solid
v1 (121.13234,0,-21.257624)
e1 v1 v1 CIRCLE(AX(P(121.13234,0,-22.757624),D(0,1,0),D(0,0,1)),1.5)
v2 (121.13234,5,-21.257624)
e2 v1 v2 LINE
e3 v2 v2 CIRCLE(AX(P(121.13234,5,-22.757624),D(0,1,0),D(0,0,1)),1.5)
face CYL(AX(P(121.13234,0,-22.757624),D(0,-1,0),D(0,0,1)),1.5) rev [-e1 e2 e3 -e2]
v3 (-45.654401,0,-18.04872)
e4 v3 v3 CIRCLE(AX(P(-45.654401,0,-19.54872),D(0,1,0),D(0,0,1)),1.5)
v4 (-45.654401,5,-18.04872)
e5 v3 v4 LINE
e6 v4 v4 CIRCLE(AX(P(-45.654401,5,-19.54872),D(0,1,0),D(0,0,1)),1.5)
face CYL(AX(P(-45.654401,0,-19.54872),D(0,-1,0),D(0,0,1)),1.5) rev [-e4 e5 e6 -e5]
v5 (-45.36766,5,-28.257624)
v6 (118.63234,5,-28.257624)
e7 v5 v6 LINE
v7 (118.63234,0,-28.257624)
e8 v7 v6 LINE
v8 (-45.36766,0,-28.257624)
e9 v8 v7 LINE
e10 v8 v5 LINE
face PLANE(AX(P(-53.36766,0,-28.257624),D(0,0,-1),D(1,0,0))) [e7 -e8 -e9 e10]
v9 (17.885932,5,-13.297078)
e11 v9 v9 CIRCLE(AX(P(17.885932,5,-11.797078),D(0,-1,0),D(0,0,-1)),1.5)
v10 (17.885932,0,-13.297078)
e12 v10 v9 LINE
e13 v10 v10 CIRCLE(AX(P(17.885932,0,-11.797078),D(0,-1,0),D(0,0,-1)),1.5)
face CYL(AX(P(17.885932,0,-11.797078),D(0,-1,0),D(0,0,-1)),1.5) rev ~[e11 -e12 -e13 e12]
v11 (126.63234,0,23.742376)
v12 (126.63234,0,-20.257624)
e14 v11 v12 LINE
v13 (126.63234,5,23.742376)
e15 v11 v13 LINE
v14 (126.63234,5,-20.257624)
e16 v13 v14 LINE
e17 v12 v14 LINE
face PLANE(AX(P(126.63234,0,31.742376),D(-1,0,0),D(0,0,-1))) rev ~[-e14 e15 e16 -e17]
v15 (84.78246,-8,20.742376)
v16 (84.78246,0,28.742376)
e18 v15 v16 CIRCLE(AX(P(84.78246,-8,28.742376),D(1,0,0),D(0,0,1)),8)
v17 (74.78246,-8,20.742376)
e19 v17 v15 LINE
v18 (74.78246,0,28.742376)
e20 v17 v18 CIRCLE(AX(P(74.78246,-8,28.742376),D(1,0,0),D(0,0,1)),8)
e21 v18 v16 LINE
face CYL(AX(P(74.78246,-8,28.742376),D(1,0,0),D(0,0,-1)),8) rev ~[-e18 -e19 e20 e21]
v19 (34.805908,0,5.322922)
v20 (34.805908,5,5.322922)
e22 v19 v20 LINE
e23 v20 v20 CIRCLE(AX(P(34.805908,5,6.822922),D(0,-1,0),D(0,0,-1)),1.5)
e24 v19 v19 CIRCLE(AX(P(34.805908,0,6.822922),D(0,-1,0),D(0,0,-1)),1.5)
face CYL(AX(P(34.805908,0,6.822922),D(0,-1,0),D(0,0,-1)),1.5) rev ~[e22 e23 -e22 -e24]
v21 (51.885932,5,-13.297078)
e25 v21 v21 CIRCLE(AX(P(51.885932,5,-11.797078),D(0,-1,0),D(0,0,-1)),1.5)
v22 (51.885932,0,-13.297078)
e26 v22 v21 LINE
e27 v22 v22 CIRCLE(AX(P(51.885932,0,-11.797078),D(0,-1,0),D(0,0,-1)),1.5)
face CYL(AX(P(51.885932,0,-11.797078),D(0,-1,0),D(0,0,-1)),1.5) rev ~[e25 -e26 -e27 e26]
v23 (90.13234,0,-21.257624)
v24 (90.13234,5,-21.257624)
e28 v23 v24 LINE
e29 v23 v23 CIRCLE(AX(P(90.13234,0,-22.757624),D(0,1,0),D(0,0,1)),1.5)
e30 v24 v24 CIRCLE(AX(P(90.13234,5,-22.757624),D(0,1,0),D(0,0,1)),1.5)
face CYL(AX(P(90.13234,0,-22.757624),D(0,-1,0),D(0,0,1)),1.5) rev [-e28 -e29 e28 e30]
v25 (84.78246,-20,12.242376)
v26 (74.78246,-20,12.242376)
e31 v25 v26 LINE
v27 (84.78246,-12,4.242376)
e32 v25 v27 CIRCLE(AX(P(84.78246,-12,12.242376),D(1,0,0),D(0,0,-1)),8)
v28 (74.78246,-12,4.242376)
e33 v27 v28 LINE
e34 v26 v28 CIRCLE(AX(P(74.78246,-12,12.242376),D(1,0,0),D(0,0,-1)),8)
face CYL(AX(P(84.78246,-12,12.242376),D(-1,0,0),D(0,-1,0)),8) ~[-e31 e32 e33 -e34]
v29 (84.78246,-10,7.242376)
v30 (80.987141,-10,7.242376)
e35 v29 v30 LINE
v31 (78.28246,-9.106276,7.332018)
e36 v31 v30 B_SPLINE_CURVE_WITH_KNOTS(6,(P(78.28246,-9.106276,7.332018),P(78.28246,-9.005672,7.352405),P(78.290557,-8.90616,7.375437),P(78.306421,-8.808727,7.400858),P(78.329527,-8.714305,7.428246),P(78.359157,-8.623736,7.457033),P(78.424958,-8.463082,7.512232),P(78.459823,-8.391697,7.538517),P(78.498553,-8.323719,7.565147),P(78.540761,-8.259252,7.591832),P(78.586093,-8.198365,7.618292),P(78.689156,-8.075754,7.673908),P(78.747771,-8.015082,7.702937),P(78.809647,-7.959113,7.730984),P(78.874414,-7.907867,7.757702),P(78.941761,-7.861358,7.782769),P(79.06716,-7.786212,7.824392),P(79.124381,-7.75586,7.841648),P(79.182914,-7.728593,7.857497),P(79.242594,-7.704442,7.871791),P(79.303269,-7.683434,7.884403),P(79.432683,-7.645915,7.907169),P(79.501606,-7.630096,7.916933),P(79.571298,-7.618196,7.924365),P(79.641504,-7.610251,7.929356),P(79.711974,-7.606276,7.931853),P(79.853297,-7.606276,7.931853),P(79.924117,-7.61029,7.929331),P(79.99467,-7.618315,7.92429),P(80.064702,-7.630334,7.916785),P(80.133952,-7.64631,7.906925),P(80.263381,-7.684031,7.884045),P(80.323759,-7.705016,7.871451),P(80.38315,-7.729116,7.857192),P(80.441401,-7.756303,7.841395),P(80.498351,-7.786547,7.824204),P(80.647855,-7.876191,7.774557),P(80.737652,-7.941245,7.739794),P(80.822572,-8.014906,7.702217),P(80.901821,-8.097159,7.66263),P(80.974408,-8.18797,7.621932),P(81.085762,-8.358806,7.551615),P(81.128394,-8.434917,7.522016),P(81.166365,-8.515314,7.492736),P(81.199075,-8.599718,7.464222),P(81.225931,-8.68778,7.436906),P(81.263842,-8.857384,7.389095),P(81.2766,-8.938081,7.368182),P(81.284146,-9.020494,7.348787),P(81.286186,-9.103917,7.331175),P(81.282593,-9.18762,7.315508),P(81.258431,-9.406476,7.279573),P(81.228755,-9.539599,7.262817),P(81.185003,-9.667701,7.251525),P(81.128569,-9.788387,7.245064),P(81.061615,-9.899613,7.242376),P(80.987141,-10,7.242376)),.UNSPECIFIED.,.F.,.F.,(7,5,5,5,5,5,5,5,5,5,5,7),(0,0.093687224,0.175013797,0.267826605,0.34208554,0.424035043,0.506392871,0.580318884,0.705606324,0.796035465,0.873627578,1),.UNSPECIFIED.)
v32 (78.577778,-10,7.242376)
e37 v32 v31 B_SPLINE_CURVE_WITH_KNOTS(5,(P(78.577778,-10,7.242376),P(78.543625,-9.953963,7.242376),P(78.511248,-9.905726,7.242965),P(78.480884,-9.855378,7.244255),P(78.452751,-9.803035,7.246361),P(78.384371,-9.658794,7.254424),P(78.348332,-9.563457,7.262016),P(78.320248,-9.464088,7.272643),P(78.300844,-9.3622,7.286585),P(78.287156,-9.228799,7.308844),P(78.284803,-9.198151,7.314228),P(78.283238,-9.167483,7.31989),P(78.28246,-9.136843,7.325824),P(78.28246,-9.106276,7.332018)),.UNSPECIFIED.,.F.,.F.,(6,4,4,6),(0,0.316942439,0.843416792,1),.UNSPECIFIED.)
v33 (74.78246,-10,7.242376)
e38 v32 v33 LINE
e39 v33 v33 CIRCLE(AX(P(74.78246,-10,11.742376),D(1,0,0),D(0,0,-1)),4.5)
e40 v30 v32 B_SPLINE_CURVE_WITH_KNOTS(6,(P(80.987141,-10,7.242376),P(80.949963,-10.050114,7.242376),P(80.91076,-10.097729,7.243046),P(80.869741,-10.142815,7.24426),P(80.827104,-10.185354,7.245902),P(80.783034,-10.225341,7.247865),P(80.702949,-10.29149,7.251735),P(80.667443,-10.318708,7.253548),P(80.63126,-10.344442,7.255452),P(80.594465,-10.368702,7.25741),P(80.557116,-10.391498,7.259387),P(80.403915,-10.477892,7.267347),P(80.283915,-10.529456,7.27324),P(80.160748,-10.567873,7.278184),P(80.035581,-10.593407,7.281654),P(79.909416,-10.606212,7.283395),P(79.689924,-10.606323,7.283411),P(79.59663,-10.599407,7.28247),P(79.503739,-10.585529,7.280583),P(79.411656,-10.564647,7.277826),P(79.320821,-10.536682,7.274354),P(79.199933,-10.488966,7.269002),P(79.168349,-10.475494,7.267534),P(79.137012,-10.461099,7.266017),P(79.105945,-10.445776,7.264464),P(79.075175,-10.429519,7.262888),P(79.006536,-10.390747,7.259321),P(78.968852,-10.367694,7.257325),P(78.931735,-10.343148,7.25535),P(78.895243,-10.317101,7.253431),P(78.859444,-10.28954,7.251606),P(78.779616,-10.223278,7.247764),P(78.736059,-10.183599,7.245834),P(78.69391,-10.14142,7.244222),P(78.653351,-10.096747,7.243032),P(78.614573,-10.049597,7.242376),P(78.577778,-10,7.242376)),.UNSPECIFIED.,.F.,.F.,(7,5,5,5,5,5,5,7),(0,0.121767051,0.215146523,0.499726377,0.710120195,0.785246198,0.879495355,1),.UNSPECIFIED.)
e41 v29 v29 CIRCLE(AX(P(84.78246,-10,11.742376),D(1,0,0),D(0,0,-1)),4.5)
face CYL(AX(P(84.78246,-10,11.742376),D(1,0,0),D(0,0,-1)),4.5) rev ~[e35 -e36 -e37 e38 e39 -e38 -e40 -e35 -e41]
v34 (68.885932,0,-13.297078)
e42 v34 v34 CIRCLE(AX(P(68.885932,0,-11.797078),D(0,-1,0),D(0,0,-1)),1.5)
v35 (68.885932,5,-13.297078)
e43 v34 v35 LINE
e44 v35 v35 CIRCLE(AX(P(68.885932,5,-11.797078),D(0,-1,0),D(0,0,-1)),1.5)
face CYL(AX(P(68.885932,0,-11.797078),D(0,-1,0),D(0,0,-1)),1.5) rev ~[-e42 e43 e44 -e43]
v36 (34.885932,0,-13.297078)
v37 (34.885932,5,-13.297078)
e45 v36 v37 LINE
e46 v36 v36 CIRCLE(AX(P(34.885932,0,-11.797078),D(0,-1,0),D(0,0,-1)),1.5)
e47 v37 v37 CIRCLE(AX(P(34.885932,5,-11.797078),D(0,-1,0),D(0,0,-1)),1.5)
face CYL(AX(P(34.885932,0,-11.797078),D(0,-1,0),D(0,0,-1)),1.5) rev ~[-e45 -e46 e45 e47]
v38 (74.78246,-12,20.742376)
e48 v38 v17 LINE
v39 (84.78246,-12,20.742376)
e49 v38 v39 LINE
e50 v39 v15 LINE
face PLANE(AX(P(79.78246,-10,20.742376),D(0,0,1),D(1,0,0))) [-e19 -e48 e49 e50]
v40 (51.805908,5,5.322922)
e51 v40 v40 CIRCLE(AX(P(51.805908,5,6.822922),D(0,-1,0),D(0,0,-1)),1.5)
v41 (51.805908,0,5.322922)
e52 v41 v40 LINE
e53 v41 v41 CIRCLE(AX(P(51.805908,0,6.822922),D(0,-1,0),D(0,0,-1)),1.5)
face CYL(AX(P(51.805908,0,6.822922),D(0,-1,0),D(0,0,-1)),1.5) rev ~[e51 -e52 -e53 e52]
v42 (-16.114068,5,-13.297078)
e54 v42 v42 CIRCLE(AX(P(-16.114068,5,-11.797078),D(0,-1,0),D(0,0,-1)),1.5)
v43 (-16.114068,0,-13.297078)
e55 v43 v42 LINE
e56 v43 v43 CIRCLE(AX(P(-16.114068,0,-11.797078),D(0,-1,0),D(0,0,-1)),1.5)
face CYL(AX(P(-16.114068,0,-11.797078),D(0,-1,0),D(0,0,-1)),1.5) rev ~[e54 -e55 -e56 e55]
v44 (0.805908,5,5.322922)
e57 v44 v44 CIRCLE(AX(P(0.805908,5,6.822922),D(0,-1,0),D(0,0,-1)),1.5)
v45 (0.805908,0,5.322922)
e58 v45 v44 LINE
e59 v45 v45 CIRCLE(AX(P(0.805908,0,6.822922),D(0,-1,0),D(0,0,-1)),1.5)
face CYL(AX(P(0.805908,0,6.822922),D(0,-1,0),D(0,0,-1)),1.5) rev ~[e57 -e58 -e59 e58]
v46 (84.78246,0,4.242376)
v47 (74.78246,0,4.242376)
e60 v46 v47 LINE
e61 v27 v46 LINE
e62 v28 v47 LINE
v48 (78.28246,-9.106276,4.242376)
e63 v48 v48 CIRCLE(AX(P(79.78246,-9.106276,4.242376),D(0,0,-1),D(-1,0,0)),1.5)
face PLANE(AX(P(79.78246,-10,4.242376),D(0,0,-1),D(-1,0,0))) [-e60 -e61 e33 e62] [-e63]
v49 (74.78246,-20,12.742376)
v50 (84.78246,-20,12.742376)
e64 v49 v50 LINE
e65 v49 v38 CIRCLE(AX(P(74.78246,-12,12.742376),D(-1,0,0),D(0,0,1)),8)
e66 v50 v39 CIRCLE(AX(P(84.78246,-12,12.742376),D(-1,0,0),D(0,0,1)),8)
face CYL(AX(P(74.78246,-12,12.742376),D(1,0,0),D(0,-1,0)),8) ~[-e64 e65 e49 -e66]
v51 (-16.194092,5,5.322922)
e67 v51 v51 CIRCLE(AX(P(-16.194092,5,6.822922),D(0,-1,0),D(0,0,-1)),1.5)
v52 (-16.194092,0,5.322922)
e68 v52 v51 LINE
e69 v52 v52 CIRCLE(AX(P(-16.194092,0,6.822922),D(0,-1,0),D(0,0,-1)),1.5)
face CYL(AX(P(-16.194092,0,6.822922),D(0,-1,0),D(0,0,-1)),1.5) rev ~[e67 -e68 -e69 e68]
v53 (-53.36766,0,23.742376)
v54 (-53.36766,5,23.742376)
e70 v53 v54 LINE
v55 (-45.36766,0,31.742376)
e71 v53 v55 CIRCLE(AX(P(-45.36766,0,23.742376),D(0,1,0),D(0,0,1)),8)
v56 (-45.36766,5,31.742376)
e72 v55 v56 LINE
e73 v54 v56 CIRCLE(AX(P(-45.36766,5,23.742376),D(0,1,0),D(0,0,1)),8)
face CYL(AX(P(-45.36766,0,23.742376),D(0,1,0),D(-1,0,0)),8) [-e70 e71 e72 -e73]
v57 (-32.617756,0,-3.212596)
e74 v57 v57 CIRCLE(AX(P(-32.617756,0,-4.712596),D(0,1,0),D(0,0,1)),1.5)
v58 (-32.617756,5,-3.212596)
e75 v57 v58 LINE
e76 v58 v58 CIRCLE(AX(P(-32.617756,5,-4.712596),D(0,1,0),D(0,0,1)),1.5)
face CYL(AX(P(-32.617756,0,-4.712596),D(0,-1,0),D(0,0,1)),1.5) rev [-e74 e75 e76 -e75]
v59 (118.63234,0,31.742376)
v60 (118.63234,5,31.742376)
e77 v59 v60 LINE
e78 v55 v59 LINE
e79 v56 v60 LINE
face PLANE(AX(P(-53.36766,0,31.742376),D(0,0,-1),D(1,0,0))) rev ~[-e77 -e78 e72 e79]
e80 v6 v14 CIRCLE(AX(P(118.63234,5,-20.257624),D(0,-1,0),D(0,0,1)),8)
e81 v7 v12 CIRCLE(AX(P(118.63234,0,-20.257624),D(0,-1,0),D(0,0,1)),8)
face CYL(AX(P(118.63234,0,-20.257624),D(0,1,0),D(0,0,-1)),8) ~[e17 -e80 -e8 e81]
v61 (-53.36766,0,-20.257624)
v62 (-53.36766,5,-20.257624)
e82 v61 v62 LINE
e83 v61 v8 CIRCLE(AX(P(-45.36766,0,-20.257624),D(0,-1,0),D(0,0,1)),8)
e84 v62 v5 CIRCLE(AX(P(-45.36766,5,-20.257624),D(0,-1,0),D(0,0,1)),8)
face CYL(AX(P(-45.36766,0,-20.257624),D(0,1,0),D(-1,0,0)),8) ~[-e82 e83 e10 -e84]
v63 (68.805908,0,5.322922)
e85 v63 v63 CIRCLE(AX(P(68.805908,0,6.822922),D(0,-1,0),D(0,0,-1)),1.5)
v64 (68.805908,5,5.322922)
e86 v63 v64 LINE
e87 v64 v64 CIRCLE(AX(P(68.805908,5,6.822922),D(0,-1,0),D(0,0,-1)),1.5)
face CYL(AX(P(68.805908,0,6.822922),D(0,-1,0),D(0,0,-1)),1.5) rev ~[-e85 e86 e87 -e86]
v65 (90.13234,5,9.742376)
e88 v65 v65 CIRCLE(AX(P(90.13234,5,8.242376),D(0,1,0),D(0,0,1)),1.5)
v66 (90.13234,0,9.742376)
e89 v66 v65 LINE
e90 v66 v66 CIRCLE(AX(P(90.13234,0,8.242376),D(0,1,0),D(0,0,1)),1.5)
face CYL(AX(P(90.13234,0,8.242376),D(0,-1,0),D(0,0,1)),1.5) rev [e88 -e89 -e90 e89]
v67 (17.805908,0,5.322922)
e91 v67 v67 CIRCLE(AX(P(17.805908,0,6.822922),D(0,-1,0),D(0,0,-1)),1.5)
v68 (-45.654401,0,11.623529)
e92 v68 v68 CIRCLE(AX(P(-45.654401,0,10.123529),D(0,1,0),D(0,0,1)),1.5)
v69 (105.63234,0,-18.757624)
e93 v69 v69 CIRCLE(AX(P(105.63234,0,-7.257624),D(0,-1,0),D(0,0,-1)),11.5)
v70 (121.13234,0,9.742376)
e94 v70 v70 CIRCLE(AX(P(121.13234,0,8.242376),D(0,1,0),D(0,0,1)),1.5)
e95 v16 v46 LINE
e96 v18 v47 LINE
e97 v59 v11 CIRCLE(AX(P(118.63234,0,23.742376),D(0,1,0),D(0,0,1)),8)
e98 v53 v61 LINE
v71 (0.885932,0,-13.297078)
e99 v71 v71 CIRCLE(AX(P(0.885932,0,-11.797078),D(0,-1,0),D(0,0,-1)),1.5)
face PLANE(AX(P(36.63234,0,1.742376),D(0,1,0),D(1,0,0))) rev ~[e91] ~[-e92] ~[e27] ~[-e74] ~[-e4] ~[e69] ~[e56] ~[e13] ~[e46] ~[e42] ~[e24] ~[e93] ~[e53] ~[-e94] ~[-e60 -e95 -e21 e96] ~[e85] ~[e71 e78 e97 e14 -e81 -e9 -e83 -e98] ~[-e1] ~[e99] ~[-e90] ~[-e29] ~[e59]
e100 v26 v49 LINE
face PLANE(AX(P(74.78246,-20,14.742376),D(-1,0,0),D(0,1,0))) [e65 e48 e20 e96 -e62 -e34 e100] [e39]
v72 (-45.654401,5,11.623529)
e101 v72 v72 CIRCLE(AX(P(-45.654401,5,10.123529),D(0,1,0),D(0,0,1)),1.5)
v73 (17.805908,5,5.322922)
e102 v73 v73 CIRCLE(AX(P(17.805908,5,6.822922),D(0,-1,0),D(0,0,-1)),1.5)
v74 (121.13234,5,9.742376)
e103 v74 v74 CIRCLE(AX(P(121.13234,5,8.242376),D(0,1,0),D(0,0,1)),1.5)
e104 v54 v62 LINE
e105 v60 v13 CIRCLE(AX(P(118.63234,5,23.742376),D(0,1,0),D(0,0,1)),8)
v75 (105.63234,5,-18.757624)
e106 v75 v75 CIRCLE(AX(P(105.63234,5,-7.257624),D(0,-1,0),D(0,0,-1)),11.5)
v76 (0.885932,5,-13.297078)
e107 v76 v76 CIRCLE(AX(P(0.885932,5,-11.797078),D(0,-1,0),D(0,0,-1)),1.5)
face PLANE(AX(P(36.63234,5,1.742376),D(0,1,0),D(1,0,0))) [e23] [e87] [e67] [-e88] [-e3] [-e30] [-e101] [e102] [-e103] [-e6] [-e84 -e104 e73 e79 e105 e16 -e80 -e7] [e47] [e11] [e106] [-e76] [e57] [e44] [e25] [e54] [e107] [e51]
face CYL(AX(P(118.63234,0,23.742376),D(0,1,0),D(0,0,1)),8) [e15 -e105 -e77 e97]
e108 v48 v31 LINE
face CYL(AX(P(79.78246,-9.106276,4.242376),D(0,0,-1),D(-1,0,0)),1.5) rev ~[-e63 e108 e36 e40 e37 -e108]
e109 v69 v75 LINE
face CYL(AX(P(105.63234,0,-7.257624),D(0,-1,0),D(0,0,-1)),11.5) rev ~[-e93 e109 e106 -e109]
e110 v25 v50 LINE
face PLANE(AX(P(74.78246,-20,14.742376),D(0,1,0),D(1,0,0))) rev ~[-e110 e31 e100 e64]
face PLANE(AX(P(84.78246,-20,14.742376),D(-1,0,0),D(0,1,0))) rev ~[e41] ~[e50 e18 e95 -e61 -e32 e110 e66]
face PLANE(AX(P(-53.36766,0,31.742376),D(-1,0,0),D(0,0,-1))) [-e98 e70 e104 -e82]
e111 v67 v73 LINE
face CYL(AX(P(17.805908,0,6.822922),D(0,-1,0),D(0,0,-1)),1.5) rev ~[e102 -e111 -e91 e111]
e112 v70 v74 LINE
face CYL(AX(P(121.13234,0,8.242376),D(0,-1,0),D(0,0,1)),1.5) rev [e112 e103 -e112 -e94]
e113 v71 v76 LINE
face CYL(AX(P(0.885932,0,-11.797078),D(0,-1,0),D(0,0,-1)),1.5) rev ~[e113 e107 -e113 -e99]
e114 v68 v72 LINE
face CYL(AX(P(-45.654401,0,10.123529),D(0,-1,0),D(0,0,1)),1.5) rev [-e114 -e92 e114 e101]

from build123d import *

# Parameters (mm, degrees)
SKETCH_1_W           = 180
SKETCH_1_H           = 60
SKETCH_1_R           = 11
SKETCH_1_R_2         = 1.5
EXTRUDE_3_DEPTH      = 5
SKETCH_2_W           = 10
SKETCH_2_H           = 20
EXTRUDE_4_DEPTH      = 20
SKETCH_4_R           = 4
CUT_EXTRUDE_1_DEPTH  = 20
SKETCH_8_W           = 3
SKETCH_8_H           = 20
CUT_EXTRUDE_4_DEPTH  = 10
SKETCH_10_W          = 14
SKETCH_10_H          = 20
EXTRUDE_5_DEPTH      = 10
SKETCH_9_R           = 4
CUT_EXTRUDE_5_DEPTH  = 10
SKETCH_12_W          = 13.5
SKETCH_12_H          = 20
CUT_EXTRUDE_6_DEPTH  = 10
SKETCH_15_W          = 1
SKETCH_15_H          = 20
CUT_EXTRUDE_7_DEPTH  = 10
FILLET_5_R           = 5
SKETCH_21_W          = 10
SKETCH_21_H          = 18
EXTRUDE_6_DEPTH      = 20
SKETCH_23_R          = 4
CUT_EXTRUDE_9_DEPTH  = 20
FILLET_8_R           = 8
SKETCH_25_W          = 11.311173877
SKETCH_25_H          = 1.5
CUT_EXTRUDE_10_DEPTH = 20
FILLET_9_R           = 8
SKETCH_28_W          = 10
SKETCH_28_H          = 16.5
EXTRUDE_7_DEPTH      = 25
SKETCH_31_W          = 27.629977972
SKETCH_31_H          = 33.342762348
CUT_EXTRUDE_12_DEPTH = 20
SKETCH_33_W          = 10
SKETCH_33_H          = 20
EXTRUDE_8_DEPTH      = 6
SKETCH_34_W          = 10
SKETCH_34_H          = 20
CUT_EXTRUDE_13_DEPTH = 6
SKETCH_35_R          = 4
CUT_EXTRUDE_14_DEPTH = 10
FILLET_11_R          = 8
SKETCH_36_R          = 1.5
CUT_EXTRUDE_15_DEPTH = 10
SKETCH_37_R          = 4.5
CUT_EXTRUDE_16_DEPTH = 10
SKETCH_38_R          = 11.5
CUT_EXTRUDE_17_DEPTH = 10
SKETCH_39_R          = 1.5
CUT_EXTRUDE_18_DEPTH = 10
FILLET_13_R          = 8


with BuildPart() as part:
    # 스케치1 → 보스-돌출3 (new body)
    with BuildSketch(Plane(origin=(0, 0, 0), x_dir=(1, 0, 0), z_dir=(0, 1, 0))):
        with Locations((36.632340007, -1.742375967)):
            Rectangle(SKETCH_1_W, SKETCH_1_H)
        with Locations(Location((105.632340007, 7.257624033, 0), (0, 0, 270))):
            Circle(SKETCH_1_R, mode=Mode.SUBTRACT)
        with Locations(Location((90.132340007, 22.757624033, 0), (0, 0, 270))):
            Circle(SKETCH_1_R_2, mode=Mode.SUBTRACT)
        with Locations(Location((121.132340007, 22.757624033, 0), (0, 0, 270))):
            Circle(SKETCH_1_R_2, mode=Mode.SUBTRACT)
        with Locations(Location((90.132340007, -8.242375967, 0), (0, 0, 270))):
            Circle(SKETCH_1_R_2, mode=Mode.SUBTRACT)
        with Locations(Location((121.132340007, -8.242375967, 0), (0, 0, 270))):
            Circle(SKETCH_1_R_2, mode=Mode.SUBTRACT)
        with Locations(Location((-32.617755763, 4.712595626, 0), (0, 0, 270))):
            Circle(SKETCH_1_R_2, mode=Mode.SUBTRACT)
        with Locations(Location((-45.654401225, 19.548720133, 0), (0, 0, 270))):
            Circle(SKETCH_1_R_2, mode=Mode.SUBTRACT)
        with Locations(Location((-45.654401225, -10.123528882, 0), (0, 0, 270))):
            Circle(SKETCH_1_R_2, mode=Mode.SUBTRACT)
    extrude(amount=EXTRUDE_3_DEPTH)

    # 스케치2 → 보스-돌출4 (add)
    with BuildSketch(Plane(origin=(0, 5, 0), x_dir=(1, 0, 0), z_dir=(0, 1, 0))):
        with Locations((79.782459712, 8.257624033)):
            Rectangle(SKETCH_2_W, SKETCH_2_H)
    extrude(amount=EXTRUDE_4_DEPTH)

    # 스케치4 → 컷-돌출1 (cut)
    with BuildSketch(Plane.ZY.offset(-74.782459712)):
        with Locations((-8.257624033, 15)):
            Circle(SKETCH_4_R)
    extrude(amount=-CUT_EXTRUDE_1_DEPTH, mode=Mode.SUBTRACT)

    # 스케치8 → 컷-돌출4 (cut)
    with BuildSketch(Plane(origin=(84.782459712, 0, 0), x_dir=(0, 0, -1), z_dir=(1, 0, 0))):
        with Locations((16.757624033, 15)):
            Rectangle(SKETCH_8_W, SKETCH_8_H)
        with Locations((-0.242375967, 15)):
            Rectangle(SKETCH_8_W, SKETCH_8_H)
    extrude(amount=-CUT_EXTRUDE_4_DEPTH, mode=Mode.SUBTRACT)

    # 스케치10 → 보스-돌출5 (add)
    with BuildSketch(Plane(origin=(84.782459712, 0, 0), x_dir=(0, 0, -1), z_dir=(1, 0, 0))):
        with Locations((-5.242375967, 15)):
            Rectangle(SKETCH_10_W, SKETCH_10_H)
    extrude(amount=-EXTRUDE_5_DEPTH)

    # 스케치9 → 컷-돌출5 (cut)
    with BuildSketch(Plane(origin=(84.782459712, 0, 0), x_dir=(0, 0, -1), z_dir=(1, 0, 0))):
        with Locations((-5.242375967, 15)):
            Circle(SKETCH_9_R)
    extrude(amount=-CUT_EXTRUDE_5_DEPTH, mode=Mode.SUBTRACT)

    # 스케치12 → 컷-돌출6 (cut)
    with BuildSketch(Plane(origin=(84.782459712, 0, 0), x_dir=(0, 0, -1), z_dir=(1, 0, 0))):
        with Locations((8.507624033, 15)):
            Rectangle(SKETCH_12_W, SKETCH_12_H)
    extrude(amount=-CUT_EXTRUDE_6_DEPTH, mode=Mode.SUBTRACT)

    # 스케치15 → 컷-돌출7 (cut)
    with BuildSketch(Plane(origin=(84.782459712, 0, 0), x_dir=(0, 0, -1), z_dir=(1, 0, 0))):
        with Locations((1.257624033, 15)):
            Rectangle(SKETCH_15_W, SKETCH_15_H)
    extrude(amount=-CUT_EXTRUDE_7_DEPTH, mode=Mode.SUBTRACT)

    # 필렛5
    fillet_5_edges = [part.edges().sort_by_distance(p)[0] for p in [
        (79.782459712, 25, -0.757624033),
        (79.782459712, 25, 12.242375967),
    ]]
    fillet(fillet_5_edges, radius=FILLET_5_R)

    # 스케치21 → 보스-돌출6 (add)
    with BuildSketch(Plane(origin=(0, 5, 0), x_dir=(1, 0, 0), z_dir=(0, 1, 0))):
        with Locations((79.782459712, -5.742375967)):
            Rectangle(SKETCH_21_W, SKETCH_21_H)
    extrude(amount=EXTRUDE_6_DEPTH)

    # 스케치23 → 컷-돌출9 (cut)
    with BuildSketch(Plane(origin=(84.782459712, 0, 0), x_dir=(0, 0, -1), z_dir=(1, 0, 0))):
        with Locations((-5.742375967, 15)):
            Circle(SKETCH_23_R)
    extrude(amount=-CUT_EXTRUDE_9_DEPTH, mode=Mode.SUBTRACT)

    # 필렛8
    fillet_8_edges = [part.edges().sort_by_distance(p)[0] for p in [
        (79.782459712, 5, 14.742375967),
    ]]
    fillet(fillet_8_edges, radius=FILLET_8_R)

    # 스케치25 → 컷-돌출10 (cut)
    with BuildSketch(Plane(origin=(0, 5, 0), x_dir=(1, 0, 0), z_dir=(0, 1, 0))):
        with Locations((79.126872773, 2.507624033)):
            Rectangle(SKETCH_25_W, SKETCH_25_H)
    extrude(amount=CUT_EXTRUDE_10_DEPTH, mode=Mode.SUBTRACT)

    # 필렛9
    fillet_9_edges = [part.edges().sort_by_distance(p)[0] for p in [
        (79.782459712, 25, 14.742375967),
        (79.782459712, 25, -1.757624033),
    ]]
    fillet(fillet_9_edges, radius=FILLET_9_R)

    # 스케치28 → 보스-돌출7 (add)
    with BuildSketch(Plane(origin=(0, 5, 0), x_dir=(1, 0, 0), z_dir=(0, 1, 0))):
        with Locations((79.782459712, -6.492375967)):
            Rectangle(SKETCH_28_W, SKETCH_28_H)
    extrude(amount=-EXTRUDE_7_DEPTH)

    # 스케치31 → 컷-돌출12 (cut)
    with BuildSketch(Plane(origin=(0, 5, 0), x_dir=(1, 0, 0), z_dir=(0, 1, 0))):
        with Locations((71.963070495, -8.53095436)):
            Rectangle(SKETCH_31_W, SKETCH_31_H)
    extrude(amount=CUT_EXTRUDE_12_DEPTH, mode=Mode.SUBTRACT)

    # 스케치33 → 보스-돌출8 (add)
    with BuildSketch(Plane.XY.offset(14.742375967)):
        with Locations((79.782459712, -10)):
            Rectangle(SKETCH_33_W, SKETCH_33_H)
    extrude(amount=EXTRUDE_8_DEPTH)

    # 스케치34 → 컷-돌출13 (cut)
    with BuildSketch(Plane(origin=(0, 0, -1.757624033), x_dir=(-1, 0, 0), z_dir=(0, 0, -1))):
        with Locations((-79.782459712, -10)):
            Rectangle(SKETCH_34_W, SKETCH_34_H)
    extrude(amount=-CUT_EXTRUDE_13_DEPTH, mode=Mode.SUBTRACT)

    # 스케치35 → 컷-돌출14 (cut)
    with BuildSketch(Plane(origin=(84.782459712, 0, 0), x_dir=(0, 0, -1), z_dir=(1, 0, 0))):
        with Locations((-11.742375967, -10)):
            Circle(SKETCH_35_R)
    extrude(amount=-CUT_EXTRUDE_14_DEPTH, mode=Mode.SUBTRACT)

    # 필렛11
    fillet_11_edges = [part.edges().sort_by_distance(p)[0] for p in [
        (79.782459712, 0, 20.742375967),
        (79.782459712, -20, 20.742375967),
        (79.782459712, -20, 4.242375967),
    ]]
    fillet(fillet_11_edges, radius=FILLET_11_R)

    # 스케치36 → 컷-돌출15 (cut)
    with BuildSketch(Plane.XZ):
        with Locations(Location((-16.194092027, 6.822922113, 0), (0, 0, 270))):
            Circle(SKETCH_36_R)
        with Locations(Location((-16.114067961, -11.797077887, 0), (0, 0, 270))):
            Circle(SKETCH_36_R)
        with Locations(Location((0.805907973, 6.822922113, 0), (0, 0, 270))):
            Circle(SKETCH_36_R)
        with Locations(Location((0.885932039, -11.797077887, 0), (0, 0, 270))):
            Circle(SKETCH_36_R)
        with Locations(Location((17.805907973, 6.822922113, 0), (0, 0, 270))):
            Circle(SKETCH_36_R)
        with Locations(Location((17.885932039, -11.797077887, 0), (0, 0, 270))):
            Circle(SKETCH_36_R)
        with Locations(Location((34.805907973, 6.822922113, 0), (0, 0, 270))):
            Circle(SKETCH_36_R)
        with Locations(Location((34.885932039, -11.797077887, 0), (0, 0, 270))):
            Circle(SKETCH_36_R)
        with Locations(Location((51.805907973, 6.822922113, 0), (0, 0, 270))):
            Circle(SKETCH_36_R)
        with Locations(Location((51.885932039, -11.797077887, 0), (0, 0, 270))):
            Circle(SKETCH_36_R)
        with Locations(Location((68.805907973, 6.822922113, 0), (0, 0, 270))):
            Circle(SKETCH_36_R)
        with Locations(Location((68.885932039, -11.797077887, 0), (0, 0, 270))):
            Circle(SKETCH_36_R)
    extrude(amount=-CUT_EXTRUDE_15_DEPTH, mode=Mode.SUBTRACT)

    # 스케치37 → 컷-돌출16 (cut)
    with BuildSketch(Plane(origin=(84.782459712, 0, 0), x_dir=(0, 0, -1), z_dir=(1, 0, 0))):
        with Locations((-11.742375967, -10)):
            Circle(SKETCH_37_R)
    extrude(amount=-CUT_EXTRUDE_16_DEPTH, mode=Mode.SUBTRACT)

    # 스케치38 → 컷-돌출17 (cut)
    with BuildSketch(Plane.XZ):
        with Locations(Location((105.632340007, -7.257624033, 0), (0, 0, 270))):
            Circle(SKETCH_38_R)
    extrude(amount=-CUT_EXTRUDE_17_DEPTH, mode=Mode.SUBTRACT)

    # 스케치39 → 컷-돌출18 (cut)
    with BuildSketch(Plane(origin=(0, 0, 4.242375967), x_dir=(-1, 0, 0), z_dir=(0, 0, -1))):
        with Locations((-79.782459712, -9.106275905)):
            Circle(SKETCH_39_R)
    extrude(amount=-CUT_EXTRUDE_18_DEPTH, mode=Mode.SUBTRACT)

    # 필렛13
    fillet_13_edges = [part.edges().sort_by_distance(p)[0] for p in [
        (126.632340007, 2.5, -28.257624033),
        (126.632340007, 2.5, 31.742375967),
        (-53.367659993, 2.5, 31.742375967),
        (-53.367659993, 2.5, -28.257624033),
    ]]
    fillet(fillet_13_edges, radius=FILLET_13_R)


solid = part.part
